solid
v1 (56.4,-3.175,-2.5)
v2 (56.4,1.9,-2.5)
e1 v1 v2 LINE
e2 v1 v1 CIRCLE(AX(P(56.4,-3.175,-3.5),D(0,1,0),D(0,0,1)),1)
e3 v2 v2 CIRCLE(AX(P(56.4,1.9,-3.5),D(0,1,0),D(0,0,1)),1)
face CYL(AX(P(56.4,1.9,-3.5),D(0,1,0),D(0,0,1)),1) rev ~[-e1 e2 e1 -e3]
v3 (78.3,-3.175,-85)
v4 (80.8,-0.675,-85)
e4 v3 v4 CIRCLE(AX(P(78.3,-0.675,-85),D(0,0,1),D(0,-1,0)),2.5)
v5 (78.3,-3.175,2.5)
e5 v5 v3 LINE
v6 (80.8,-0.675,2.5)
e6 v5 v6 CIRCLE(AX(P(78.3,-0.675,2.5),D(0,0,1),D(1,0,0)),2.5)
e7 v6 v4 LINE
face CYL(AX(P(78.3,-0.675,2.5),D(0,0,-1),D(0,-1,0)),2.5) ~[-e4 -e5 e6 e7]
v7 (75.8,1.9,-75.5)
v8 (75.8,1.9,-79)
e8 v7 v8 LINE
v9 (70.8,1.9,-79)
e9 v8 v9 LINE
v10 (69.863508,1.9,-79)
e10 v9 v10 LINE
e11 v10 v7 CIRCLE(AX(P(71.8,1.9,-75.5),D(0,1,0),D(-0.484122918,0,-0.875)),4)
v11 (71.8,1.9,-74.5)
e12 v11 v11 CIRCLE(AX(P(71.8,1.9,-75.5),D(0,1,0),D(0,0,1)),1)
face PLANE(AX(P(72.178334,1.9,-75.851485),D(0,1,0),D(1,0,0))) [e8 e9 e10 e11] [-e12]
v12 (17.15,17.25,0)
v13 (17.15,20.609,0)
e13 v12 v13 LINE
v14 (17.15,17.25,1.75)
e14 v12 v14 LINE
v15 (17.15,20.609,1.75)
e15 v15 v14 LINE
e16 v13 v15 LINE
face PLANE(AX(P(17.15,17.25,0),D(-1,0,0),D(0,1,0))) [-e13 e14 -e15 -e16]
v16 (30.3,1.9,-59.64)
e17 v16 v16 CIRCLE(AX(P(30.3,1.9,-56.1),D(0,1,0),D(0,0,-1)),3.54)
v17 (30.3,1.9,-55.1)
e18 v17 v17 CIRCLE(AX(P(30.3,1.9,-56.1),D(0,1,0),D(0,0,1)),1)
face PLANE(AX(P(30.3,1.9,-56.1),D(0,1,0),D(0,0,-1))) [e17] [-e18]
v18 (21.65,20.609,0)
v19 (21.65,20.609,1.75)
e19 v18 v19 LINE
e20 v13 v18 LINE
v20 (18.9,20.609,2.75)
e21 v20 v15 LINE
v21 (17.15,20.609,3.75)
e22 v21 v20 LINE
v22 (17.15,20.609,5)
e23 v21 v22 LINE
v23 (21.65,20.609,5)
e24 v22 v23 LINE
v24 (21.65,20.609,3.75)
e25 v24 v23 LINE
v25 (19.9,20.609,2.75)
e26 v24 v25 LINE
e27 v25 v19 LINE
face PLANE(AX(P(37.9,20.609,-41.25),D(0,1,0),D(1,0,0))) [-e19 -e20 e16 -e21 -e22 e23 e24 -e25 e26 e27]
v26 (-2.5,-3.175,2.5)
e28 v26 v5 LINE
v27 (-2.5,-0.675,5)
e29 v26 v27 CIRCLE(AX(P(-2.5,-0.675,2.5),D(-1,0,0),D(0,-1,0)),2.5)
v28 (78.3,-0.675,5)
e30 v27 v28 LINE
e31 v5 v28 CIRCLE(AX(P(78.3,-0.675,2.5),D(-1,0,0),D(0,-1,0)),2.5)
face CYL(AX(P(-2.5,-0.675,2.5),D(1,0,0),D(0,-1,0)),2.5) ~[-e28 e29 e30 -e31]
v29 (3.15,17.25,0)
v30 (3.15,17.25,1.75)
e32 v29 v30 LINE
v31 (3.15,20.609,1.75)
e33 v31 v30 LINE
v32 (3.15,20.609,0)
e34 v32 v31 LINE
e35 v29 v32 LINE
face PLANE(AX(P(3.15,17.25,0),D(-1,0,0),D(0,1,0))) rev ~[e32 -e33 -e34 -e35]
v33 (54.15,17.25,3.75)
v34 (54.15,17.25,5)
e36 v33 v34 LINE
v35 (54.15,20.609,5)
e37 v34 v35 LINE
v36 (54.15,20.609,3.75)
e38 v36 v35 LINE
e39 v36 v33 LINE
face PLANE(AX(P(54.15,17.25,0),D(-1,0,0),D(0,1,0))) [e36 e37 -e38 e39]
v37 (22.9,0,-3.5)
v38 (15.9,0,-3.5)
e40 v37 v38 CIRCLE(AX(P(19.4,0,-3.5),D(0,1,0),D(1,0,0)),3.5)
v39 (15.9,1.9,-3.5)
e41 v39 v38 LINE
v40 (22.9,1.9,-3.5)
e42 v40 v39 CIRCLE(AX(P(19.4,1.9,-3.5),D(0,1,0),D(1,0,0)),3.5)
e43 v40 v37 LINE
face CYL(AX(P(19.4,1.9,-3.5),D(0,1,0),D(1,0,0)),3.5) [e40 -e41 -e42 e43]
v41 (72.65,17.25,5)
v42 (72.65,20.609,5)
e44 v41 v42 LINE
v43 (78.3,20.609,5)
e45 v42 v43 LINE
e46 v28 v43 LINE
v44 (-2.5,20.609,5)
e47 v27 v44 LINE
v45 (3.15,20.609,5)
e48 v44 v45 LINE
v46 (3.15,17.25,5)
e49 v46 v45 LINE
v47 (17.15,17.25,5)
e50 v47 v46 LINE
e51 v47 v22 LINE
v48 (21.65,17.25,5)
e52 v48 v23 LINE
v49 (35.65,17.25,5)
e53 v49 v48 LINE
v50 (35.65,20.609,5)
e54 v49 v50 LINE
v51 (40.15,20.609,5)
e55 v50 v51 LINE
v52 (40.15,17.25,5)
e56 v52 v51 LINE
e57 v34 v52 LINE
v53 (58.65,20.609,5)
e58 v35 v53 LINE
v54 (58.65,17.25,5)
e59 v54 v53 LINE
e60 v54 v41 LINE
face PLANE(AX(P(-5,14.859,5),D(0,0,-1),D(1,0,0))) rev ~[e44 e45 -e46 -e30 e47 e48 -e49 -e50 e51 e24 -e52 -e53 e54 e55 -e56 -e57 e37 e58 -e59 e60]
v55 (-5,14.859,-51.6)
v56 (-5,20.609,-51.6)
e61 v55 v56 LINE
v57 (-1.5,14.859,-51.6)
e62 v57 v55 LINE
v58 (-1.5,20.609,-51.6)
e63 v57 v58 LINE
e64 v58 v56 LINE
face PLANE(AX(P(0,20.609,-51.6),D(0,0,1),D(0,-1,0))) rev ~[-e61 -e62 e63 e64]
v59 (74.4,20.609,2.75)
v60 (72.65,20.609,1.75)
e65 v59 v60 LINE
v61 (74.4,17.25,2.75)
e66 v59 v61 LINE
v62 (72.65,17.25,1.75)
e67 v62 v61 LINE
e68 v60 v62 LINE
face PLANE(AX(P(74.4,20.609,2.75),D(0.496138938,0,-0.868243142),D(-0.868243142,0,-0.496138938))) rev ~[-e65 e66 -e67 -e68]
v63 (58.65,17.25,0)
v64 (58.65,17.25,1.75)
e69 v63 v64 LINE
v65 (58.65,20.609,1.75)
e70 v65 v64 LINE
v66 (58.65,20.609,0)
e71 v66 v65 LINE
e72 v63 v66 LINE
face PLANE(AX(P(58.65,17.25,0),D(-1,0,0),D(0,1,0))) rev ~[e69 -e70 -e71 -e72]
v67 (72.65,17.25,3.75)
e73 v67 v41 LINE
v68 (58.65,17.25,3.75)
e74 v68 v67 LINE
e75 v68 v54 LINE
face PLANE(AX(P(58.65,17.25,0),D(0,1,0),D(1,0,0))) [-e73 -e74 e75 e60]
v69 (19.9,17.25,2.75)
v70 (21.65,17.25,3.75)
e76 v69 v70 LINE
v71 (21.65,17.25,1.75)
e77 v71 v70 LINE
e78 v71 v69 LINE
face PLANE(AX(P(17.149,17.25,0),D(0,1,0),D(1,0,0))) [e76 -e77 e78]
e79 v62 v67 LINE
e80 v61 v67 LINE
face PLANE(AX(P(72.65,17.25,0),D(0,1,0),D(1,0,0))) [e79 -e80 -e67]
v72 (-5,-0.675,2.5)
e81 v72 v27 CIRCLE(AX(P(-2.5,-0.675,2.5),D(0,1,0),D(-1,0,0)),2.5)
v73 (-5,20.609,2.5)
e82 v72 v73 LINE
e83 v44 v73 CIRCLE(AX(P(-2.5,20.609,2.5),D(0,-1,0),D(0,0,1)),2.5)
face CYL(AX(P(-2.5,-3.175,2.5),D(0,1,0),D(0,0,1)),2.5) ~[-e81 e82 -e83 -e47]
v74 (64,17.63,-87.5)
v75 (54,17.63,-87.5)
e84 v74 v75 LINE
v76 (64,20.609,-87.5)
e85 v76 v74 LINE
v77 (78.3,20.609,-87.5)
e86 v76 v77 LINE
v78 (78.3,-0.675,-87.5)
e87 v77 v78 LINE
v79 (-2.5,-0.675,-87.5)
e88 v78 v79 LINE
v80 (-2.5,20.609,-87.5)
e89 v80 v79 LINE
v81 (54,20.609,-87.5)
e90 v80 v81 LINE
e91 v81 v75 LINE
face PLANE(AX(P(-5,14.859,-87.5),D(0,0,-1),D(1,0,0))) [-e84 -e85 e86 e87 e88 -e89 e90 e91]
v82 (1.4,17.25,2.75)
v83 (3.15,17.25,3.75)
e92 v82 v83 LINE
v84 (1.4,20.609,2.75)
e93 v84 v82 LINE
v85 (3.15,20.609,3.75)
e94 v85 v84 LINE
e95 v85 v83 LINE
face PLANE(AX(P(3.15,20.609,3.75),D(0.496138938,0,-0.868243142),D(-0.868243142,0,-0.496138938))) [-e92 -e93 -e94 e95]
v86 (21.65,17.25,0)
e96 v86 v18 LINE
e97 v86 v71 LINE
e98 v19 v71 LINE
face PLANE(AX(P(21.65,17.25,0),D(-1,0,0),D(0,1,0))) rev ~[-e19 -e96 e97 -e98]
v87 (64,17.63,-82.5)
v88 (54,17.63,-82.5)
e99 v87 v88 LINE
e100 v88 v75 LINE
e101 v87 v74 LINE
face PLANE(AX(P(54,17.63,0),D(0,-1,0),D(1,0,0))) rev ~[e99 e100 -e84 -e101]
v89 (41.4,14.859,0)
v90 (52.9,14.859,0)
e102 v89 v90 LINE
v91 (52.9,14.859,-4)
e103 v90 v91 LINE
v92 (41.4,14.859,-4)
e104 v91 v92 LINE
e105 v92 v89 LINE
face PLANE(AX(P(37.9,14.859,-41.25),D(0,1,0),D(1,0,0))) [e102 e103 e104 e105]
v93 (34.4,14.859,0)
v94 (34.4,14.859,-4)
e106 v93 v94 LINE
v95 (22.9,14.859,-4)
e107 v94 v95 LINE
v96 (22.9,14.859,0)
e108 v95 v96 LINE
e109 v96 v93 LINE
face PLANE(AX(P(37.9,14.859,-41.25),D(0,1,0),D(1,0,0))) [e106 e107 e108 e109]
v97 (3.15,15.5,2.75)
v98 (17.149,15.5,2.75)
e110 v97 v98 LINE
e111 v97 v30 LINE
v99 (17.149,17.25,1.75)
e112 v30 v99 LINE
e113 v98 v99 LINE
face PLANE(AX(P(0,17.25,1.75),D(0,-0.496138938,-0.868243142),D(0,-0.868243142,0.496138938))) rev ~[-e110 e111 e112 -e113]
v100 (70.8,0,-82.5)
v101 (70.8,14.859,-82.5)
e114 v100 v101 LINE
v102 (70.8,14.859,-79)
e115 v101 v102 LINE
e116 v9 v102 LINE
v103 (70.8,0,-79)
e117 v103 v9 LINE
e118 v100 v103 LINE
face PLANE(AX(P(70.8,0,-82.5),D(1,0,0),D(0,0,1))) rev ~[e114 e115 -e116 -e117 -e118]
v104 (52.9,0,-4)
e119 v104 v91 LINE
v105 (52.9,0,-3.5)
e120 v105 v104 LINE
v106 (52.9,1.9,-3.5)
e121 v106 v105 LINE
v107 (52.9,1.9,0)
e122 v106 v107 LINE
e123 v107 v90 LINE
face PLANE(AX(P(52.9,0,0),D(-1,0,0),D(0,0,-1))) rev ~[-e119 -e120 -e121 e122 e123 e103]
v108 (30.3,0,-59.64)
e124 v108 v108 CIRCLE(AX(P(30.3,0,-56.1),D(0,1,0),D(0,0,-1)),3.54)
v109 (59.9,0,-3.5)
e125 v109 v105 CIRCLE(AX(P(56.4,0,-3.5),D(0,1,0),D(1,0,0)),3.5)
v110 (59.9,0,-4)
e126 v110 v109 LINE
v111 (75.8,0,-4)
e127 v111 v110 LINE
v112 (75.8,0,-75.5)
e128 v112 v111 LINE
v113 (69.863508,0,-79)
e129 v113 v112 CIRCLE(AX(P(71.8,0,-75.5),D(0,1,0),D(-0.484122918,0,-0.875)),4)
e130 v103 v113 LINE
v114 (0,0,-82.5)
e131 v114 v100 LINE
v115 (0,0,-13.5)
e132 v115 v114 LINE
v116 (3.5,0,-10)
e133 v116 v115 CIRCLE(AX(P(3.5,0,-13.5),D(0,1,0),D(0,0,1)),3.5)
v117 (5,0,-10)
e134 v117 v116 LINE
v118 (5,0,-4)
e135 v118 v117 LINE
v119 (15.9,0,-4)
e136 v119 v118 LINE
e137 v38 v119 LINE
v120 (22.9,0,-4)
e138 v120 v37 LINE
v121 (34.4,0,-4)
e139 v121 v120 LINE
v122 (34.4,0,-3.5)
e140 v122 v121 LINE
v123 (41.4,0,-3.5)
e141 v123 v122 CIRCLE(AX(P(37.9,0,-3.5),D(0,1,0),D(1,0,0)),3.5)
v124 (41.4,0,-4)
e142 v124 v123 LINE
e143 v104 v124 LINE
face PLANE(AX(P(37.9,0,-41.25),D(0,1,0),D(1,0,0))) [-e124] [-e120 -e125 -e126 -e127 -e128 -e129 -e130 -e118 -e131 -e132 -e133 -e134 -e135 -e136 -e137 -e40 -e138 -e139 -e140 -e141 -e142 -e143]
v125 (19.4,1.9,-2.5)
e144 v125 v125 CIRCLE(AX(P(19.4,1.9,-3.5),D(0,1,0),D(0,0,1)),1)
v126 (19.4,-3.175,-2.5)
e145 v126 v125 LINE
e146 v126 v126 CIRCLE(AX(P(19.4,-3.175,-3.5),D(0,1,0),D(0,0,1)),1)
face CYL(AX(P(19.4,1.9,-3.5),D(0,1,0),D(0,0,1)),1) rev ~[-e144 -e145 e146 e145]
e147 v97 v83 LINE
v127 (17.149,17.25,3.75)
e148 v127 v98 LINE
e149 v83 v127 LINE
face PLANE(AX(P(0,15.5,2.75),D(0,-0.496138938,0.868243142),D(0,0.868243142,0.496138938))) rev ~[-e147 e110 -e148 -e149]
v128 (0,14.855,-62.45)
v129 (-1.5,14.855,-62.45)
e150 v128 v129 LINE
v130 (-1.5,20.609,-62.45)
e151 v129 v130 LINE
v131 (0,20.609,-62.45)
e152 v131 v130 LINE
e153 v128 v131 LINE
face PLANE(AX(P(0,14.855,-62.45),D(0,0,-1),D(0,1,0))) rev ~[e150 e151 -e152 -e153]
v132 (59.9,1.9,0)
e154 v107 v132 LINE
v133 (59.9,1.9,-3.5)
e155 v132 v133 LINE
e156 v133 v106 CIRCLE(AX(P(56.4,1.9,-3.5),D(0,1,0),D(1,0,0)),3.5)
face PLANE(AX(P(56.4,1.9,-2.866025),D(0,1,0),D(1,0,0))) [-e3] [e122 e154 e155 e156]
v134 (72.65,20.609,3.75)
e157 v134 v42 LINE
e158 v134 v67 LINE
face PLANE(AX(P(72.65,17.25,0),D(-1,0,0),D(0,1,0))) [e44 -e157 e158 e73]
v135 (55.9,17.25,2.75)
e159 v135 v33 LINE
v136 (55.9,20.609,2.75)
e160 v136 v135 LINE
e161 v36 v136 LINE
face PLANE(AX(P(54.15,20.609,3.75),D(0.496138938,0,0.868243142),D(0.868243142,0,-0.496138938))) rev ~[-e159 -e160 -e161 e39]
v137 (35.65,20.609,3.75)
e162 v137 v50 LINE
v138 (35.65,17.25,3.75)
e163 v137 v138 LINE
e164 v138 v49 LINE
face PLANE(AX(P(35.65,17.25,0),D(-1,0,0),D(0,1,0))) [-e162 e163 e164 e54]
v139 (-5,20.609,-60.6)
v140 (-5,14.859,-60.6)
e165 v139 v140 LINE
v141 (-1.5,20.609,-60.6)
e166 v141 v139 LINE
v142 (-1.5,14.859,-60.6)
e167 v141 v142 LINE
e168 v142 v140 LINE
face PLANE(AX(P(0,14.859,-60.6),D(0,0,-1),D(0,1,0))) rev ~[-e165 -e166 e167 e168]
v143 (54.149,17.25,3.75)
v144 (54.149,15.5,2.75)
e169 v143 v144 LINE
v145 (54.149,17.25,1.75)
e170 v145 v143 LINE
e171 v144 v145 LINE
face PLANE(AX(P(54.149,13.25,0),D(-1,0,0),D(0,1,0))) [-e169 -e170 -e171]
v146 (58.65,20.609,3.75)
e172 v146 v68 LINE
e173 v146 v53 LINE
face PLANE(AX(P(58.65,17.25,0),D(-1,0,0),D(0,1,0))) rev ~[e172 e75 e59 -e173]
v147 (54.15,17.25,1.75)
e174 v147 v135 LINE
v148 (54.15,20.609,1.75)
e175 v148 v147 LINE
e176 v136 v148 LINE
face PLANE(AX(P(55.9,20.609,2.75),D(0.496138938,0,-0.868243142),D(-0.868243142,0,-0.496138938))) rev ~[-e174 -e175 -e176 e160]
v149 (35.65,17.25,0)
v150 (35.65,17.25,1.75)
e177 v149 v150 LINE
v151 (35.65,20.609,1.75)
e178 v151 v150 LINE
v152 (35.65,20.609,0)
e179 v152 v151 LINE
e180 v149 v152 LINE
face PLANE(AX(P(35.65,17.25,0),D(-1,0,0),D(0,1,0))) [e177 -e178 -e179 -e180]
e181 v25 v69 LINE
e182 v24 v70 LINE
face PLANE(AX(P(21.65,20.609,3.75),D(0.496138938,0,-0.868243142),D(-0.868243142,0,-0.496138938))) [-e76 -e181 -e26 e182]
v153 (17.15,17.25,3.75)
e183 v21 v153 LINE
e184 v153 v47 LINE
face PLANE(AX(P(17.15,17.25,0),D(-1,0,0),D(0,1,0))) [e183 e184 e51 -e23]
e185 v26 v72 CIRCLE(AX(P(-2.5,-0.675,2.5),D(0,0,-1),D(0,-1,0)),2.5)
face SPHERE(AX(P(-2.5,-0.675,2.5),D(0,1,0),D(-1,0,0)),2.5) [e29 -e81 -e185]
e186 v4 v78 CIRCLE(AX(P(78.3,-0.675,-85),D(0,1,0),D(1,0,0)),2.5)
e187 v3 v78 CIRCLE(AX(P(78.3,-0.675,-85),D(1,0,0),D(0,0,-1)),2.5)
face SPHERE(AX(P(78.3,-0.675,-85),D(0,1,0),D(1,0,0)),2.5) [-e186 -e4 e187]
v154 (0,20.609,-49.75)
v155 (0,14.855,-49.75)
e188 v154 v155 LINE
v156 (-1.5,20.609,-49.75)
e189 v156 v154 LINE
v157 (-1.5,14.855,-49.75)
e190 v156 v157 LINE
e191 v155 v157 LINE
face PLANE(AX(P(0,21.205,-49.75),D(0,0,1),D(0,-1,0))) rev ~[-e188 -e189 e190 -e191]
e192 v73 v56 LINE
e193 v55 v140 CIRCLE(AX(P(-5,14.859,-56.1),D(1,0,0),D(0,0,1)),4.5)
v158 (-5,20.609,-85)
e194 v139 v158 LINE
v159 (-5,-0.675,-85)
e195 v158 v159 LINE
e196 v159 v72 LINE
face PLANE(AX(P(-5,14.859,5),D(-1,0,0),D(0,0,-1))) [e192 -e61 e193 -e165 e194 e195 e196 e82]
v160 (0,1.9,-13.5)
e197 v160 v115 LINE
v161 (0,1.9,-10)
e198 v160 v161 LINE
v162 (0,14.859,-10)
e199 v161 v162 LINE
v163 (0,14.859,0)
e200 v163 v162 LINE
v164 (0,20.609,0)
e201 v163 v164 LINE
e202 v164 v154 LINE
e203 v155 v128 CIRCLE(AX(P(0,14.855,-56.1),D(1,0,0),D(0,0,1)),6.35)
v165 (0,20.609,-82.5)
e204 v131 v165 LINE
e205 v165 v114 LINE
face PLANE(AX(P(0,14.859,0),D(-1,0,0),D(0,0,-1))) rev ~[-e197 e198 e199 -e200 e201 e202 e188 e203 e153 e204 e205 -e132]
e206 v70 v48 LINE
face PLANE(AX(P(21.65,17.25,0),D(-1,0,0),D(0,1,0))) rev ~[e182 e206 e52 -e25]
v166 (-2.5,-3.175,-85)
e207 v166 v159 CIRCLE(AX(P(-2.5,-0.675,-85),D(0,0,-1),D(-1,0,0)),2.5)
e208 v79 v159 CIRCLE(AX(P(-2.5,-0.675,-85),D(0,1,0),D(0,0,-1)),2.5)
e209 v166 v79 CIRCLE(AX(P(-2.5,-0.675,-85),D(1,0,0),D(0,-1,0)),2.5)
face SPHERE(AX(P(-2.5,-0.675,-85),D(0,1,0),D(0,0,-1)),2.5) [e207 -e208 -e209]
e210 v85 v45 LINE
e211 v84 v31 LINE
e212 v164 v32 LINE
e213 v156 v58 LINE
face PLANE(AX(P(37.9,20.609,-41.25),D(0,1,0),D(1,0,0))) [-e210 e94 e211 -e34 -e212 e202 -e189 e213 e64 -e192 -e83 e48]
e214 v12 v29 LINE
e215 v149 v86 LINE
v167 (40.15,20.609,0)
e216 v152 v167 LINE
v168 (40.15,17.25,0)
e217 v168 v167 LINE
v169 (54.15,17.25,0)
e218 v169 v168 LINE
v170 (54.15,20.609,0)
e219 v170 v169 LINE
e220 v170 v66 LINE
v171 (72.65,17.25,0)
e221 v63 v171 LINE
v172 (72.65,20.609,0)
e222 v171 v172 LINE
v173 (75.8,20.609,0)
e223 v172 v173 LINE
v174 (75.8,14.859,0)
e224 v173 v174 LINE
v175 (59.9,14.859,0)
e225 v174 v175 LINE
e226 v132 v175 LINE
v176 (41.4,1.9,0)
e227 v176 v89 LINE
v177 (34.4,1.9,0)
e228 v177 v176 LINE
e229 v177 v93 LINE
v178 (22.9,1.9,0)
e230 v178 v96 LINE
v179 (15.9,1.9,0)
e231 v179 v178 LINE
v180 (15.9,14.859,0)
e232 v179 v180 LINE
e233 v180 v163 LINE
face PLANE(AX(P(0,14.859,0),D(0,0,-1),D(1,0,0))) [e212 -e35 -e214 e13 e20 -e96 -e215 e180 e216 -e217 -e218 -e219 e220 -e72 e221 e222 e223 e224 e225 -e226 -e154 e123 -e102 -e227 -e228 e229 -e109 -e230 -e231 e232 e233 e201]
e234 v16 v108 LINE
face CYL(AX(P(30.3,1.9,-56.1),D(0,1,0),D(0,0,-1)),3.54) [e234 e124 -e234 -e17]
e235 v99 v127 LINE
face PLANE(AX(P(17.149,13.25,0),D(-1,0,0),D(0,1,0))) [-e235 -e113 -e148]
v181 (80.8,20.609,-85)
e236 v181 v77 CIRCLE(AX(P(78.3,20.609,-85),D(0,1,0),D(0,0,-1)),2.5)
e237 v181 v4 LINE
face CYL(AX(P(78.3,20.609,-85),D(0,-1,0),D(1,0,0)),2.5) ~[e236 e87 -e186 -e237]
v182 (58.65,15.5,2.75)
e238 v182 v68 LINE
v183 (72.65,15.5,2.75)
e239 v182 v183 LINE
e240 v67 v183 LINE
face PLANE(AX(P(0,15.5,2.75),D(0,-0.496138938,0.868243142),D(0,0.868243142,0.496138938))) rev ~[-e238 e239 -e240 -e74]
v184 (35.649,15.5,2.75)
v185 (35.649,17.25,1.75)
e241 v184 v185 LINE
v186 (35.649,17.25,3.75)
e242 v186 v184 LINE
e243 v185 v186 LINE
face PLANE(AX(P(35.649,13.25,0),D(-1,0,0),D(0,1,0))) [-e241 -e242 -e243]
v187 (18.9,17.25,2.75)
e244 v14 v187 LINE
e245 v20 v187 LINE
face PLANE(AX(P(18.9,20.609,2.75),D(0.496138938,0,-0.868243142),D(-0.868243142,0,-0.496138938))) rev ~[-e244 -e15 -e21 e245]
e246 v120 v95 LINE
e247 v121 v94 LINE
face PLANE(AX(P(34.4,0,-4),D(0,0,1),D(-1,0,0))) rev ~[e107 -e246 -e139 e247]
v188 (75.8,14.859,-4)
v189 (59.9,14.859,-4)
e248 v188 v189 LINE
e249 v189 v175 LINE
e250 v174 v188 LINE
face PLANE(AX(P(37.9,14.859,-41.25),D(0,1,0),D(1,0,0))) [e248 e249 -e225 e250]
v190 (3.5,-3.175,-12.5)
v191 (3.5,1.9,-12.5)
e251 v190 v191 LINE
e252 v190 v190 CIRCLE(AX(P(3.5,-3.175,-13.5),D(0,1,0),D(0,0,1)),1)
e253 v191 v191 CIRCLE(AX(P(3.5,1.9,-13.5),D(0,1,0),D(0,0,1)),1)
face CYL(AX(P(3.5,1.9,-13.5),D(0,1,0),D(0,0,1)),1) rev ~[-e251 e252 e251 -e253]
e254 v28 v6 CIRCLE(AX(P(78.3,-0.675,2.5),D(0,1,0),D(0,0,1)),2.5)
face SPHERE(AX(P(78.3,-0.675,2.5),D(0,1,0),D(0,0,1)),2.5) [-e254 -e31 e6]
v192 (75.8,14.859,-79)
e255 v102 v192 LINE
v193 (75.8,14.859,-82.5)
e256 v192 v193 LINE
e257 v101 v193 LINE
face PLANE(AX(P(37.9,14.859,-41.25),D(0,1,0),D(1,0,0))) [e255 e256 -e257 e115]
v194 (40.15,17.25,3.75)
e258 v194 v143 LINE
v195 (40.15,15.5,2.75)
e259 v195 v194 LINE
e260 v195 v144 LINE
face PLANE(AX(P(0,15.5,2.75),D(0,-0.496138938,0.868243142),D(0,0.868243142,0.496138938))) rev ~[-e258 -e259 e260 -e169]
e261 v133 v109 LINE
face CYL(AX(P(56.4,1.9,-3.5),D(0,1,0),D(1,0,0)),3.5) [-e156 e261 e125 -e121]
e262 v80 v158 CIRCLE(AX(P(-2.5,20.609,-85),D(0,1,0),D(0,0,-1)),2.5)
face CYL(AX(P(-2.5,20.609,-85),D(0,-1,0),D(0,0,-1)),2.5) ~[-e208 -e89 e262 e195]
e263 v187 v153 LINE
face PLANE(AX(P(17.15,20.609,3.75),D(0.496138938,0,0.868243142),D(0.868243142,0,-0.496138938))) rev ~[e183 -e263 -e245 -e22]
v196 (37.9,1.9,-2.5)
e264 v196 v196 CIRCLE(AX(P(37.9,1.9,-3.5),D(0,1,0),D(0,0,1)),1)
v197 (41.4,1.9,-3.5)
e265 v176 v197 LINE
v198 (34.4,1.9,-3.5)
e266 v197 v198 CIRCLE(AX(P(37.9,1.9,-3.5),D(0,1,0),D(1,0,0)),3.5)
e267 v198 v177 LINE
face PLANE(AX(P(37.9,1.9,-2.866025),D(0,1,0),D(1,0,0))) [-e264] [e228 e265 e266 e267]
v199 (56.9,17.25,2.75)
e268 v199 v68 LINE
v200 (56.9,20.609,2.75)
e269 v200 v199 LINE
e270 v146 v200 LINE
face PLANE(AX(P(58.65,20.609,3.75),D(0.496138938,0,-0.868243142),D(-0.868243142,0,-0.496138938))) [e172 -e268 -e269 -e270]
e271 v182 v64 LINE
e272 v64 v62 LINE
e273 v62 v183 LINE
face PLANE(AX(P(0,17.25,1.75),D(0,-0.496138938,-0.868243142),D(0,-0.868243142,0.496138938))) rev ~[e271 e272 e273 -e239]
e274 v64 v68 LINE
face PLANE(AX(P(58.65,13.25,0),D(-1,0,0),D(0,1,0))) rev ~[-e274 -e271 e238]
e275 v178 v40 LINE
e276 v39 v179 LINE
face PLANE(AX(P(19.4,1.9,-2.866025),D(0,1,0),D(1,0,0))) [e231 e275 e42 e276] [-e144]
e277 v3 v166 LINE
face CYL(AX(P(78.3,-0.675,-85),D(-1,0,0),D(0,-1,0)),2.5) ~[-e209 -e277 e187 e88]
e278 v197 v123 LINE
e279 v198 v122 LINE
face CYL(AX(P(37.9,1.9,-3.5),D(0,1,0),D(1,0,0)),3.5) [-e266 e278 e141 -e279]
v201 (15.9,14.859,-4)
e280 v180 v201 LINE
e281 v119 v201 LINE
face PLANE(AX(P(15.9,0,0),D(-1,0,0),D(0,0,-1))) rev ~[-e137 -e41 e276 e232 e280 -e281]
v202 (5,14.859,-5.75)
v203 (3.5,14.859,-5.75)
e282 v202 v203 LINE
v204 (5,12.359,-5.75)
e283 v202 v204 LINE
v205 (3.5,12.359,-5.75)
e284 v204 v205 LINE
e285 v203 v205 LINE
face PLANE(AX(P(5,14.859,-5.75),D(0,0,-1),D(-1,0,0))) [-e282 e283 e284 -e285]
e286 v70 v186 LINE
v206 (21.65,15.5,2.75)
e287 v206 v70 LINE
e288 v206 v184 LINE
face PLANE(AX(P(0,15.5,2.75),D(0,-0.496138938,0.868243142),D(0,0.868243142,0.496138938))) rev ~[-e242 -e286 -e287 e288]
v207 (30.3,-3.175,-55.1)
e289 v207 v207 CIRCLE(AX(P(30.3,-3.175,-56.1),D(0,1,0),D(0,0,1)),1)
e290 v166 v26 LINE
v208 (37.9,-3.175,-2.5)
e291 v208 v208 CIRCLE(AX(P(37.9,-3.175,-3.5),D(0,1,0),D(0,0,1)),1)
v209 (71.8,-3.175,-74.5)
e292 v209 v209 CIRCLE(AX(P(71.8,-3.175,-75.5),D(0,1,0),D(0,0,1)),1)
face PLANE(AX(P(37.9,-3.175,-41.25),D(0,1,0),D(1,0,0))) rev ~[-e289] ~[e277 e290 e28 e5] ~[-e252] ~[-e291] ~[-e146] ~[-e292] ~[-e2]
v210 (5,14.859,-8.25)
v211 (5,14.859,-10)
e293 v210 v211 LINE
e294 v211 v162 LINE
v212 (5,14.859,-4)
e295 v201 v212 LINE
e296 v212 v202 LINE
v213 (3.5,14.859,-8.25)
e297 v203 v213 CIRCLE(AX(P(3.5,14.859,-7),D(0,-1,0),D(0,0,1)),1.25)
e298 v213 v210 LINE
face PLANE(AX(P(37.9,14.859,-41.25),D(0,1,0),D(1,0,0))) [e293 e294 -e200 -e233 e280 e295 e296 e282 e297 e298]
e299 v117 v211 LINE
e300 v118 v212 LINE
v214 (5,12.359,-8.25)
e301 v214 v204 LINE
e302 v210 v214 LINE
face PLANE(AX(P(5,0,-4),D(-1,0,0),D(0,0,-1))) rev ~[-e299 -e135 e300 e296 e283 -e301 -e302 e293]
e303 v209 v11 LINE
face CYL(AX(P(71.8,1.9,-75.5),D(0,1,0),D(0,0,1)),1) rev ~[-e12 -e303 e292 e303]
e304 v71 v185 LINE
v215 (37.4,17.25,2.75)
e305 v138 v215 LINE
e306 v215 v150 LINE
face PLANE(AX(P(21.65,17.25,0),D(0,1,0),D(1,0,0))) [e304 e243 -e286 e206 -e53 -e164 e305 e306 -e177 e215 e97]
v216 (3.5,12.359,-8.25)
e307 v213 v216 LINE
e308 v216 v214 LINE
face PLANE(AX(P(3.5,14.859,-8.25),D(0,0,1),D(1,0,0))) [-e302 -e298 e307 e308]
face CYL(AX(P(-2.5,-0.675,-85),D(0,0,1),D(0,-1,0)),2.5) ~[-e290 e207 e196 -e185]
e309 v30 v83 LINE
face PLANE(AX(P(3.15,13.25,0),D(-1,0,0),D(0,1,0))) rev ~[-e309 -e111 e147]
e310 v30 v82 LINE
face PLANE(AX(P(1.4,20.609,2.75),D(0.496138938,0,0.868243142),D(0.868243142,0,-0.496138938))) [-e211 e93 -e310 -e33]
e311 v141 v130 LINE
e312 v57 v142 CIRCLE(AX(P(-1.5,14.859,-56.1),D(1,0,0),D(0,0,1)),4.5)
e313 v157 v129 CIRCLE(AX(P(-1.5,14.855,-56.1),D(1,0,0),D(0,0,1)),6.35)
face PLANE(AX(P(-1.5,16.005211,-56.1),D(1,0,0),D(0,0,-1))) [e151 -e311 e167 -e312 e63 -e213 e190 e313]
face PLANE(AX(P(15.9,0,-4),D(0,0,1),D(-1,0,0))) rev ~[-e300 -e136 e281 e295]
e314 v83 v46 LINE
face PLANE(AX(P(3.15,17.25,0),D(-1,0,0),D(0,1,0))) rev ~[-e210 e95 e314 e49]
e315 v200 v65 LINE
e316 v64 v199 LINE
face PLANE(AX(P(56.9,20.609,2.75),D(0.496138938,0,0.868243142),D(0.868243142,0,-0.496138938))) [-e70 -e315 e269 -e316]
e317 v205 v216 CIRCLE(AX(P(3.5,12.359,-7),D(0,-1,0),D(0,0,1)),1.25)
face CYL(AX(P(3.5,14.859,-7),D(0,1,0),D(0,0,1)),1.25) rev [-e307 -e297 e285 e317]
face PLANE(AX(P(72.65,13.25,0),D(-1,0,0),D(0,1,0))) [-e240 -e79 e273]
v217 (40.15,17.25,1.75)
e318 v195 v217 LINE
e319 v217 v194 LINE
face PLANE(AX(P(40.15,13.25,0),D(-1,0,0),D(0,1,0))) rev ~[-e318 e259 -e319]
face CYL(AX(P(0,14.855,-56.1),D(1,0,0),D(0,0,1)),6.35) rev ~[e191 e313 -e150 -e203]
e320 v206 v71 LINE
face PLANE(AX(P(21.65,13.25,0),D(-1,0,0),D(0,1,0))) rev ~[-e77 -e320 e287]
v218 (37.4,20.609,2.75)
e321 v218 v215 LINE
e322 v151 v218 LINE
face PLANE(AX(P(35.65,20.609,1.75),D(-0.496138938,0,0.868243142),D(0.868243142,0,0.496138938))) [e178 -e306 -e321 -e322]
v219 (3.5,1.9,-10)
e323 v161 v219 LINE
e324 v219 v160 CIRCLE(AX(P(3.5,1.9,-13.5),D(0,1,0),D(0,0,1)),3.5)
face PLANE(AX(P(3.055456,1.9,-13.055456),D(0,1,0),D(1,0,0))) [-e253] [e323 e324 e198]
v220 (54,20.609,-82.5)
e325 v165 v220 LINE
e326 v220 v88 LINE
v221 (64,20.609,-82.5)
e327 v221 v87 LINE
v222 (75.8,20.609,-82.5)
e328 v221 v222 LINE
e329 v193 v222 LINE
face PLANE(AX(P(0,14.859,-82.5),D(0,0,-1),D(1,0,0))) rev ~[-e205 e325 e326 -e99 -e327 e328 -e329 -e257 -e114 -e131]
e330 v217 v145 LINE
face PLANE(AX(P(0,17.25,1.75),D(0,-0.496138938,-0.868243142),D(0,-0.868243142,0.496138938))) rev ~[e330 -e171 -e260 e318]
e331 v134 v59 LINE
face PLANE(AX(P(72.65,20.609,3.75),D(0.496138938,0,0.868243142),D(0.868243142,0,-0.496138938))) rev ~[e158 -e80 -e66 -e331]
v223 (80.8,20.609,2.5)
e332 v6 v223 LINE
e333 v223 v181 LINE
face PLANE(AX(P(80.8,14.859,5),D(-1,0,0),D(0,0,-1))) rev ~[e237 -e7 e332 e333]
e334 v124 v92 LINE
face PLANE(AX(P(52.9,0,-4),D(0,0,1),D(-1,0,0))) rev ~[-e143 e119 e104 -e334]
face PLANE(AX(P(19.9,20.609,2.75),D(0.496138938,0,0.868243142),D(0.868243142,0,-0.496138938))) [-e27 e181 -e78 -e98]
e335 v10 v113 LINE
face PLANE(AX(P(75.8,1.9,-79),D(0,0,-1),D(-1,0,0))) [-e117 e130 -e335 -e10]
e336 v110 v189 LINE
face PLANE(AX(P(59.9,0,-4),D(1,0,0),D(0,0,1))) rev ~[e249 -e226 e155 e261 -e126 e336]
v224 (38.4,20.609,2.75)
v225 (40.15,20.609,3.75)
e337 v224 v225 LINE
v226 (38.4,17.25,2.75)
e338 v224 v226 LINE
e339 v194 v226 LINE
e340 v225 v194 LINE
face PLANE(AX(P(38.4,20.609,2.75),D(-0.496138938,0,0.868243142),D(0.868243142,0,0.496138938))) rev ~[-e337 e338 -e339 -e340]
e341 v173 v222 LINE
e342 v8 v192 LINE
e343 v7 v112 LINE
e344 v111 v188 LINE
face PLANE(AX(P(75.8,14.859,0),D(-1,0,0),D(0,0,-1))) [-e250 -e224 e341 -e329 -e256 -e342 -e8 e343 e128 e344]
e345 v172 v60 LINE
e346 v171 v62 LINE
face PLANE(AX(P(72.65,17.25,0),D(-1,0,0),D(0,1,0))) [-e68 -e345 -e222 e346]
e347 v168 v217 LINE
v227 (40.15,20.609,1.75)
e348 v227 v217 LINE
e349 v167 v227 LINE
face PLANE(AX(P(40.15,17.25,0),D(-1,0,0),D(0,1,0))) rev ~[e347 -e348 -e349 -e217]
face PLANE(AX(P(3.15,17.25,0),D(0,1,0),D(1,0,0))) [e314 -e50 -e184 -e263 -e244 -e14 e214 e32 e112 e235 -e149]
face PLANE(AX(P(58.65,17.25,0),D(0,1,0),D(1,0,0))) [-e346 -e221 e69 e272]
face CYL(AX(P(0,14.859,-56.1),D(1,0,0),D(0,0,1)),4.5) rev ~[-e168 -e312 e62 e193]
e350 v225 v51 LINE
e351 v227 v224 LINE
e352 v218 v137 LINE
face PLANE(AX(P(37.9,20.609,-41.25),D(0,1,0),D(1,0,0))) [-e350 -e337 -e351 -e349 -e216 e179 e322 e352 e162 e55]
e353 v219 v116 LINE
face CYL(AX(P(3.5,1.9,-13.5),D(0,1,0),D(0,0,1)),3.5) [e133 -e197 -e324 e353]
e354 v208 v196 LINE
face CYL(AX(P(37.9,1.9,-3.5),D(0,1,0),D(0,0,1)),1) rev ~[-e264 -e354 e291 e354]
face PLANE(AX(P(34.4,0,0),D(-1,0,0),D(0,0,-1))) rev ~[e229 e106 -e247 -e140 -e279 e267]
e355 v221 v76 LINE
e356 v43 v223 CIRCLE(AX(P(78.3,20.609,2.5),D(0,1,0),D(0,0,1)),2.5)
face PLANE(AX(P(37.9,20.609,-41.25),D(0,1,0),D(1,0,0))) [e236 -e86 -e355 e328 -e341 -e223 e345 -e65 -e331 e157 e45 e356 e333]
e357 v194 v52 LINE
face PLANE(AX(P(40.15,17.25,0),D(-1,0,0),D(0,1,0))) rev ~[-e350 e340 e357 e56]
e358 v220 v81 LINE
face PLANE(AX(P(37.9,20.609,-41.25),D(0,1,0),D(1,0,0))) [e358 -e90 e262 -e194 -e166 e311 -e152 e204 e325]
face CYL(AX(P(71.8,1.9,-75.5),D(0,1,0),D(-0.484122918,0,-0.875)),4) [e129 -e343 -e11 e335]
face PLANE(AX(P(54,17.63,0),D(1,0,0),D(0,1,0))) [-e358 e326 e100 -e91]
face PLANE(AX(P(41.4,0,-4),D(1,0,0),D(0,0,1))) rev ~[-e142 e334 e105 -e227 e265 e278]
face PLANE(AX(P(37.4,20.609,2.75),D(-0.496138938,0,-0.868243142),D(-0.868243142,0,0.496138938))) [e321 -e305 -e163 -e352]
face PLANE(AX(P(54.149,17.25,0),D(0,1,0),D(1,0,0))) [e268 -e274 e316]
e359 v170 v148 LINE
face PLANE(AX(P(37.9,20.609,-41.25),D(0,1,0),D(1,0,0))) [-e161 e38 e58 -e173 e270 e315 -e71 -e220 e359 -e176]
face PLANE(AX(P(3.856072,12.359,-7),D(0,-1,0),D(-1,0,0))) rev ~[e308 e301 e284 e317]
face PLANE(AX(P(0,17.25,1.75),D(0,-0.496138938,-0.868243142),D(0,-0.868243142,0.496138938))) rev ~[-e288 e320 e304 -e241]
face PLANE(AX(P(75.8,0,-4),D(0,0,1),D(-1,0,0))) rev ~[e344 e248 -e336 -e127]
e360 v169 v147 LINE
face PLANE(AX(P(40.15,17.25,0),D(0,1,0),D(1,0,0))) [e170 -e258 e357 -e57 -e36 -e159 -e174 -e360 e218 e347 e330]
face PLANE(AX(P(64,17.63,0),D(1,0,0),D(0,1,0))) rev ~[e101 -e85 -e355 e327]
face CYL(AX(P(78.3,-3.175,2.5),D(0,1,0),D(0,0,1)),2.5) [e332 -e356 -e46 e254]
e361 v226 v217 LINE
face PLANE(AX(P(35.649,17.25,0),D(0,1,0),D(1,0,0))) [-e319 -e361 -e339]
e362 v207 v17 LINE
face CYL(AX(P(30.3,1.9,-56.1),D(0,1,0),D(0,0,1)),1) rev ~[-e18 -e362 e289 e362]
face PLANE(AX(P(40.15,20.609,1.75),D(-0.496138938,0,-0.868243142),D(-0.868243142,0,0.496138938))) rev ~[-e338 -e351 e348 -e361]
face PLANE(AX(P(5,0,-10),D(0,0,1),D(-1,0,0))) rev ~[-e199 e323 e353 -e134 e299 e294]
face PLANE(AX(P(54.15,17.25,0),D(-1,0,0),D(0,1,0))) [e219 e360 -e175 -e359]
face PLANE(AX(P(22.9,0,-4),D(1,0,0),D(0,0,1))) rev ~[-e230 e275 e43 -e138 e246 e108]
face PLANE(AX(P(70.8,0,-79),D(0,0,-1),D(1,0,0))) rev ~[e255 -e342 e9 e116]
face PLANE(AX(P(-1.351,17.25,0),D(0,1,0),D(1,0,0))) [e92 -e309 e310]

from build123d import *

# Parameters (mm, degrees)
SKETCH1_W           = 85.8
SKETCH1_H           = 92.5
BOSS_EXTRUDE1_DEPTH = 14.859
SKETCH2_W           = 85.8
SKETCH2_H           = 92.5
SKETCH2_R           = 1
BOSS_EXTRUDE2_DEPTH = 3.175
SKETCH4_W           = 85.8
SKETCH4_H           = 92.5
SKETCH4_W_2         = 75.8
SKETCH4_H_2         = 82.5
BOSS_EXTRUDE3_DEPTH = 5.75
CUT_EXTRUDE1_DEPTH  = 121.870264668
SKETCH5_W           = 14
SKETCH5_H           = 8
CUT_EXTRUDE2_DEPTH  = 121.870264668
SKETCH6_W           = 10
SKETCH6_H           = 6
CUT_EXTRUDE3_DEPTH  = 121.870264668
BOSS_EXTRUDE4_START = 1.9
SKETCH7_R           = 3.54
SKETCH7_R_2         = 1
BOSS_EXTRUDE4_DEPTH = 1.9
FILLET1_R           = 2.5
FILLET2_R           = 2.5
FILLET3_R           = 2.5
FILLET4_R           = 2.5
FILLET5_R           = 2.5
CUT_EXTRUDE4_DEPTH  = 1.5
CUT_EXTRUDE5_DEPTH  = 4
CUT_EXTRUDE7_DEPTH  = 73.9
SKETCH12_W          = 4.501
SKETCH12_H          = 4
BOSS_EXTRUDE8_DEPTH = 5
CUT_EXTRUDE8_DEPTH  = 2.5


with BuildPart() as part:
    # Sketch1 → Boss-Extrude1 (new body)
    with BuildSketch(Plane(origin=(0, 0, 0), x_dir=(1, 0, 0), z_dir=(0, 1, 0))):
        with Locations((37.9, 41.25)):
            Rectangle(SKETCH1_W, SKETCH1_H)
        Polygon((5, 4), (5, 10), (0, 10), (0, 82.5), (70.8, 82.5), (70.8, 79), (75.8, 79), (75.8, 4), (59.9, 4), (59.9, 0), (52.9, 0), (52.9, 4), (41.4, 4), (41.4, 0), (34.4, 0), (34.4, 4), (22.9, 4), (22.9, 0), (15.9, 0), (15.9, 4), align=None, mode=Mode.SUBTRACT)
    extrude(amount=BOSS_EXTRUDE1_DEPTH)

    # Sketch2 → Boss-Extrude2 (add)
    with BuildSketch(Plane(origin=(0, 0, 0), x_dir=(1, 0, 0), z_dir=(0, 1, 0))):
        with Locations((37.9, 41.25)):
            Rectangle(SKETCH2_W, SKETCH2_H)
        with Locations(Location((3.5, 13.5, 0), (0, 0, 270))):
            Circle(SKETCH2_R, mode=Mode.SUBTRACT)
        with Locations(Location((19.4, 3.5, 0), (0, 0, 270))):
            Circle(SKETCH2_R, mode=Mode.SUBTRACT)
        with Locations(Location((37.9, 3.5, 0), (0, 0, 270))):
            Circle(SKETCH2_R, mode=Mode.SUBTRACT)
        with Locations(Location((56.4, 3.5, 0), (0, 0, 270))):
            Circle(SKETCH2_R, mode=Mode.SUBTRACT)
        with Locations(Location((30.3, 56.1, 0), (0, 0, 270))):
            Circle(SKETCH2_R, mode=Mode.SUBTRACT)
        with Locations(Location((71.8, 75.5, 0), (0, 0, 270))):
            Circle(SKETCH2_R, mode=Mode.SUBTRACT)
    extrude(amount=-BOSS_EXTRUDE2_DEPTH)

    # Sketch4 → Boss-Extrude3 (add)
    with BuildSketch(Plane(origin=(0, 14.859, 0), x_dir=(1, 0, 0), z_dir=(0, 1, 0))):
        with Locations((37.9, 41.25)):
            Rectangle(SKETCH4_W, SKETCH4_H)
        with Locations((37.9, 41.25)):
            Rectangle(SKETCH4_W_2, SKETCH4_H_2, mode=Mode.SUBTRACT)
    extrude(amount=BOSS_EXTRUDE3_DEPTH)

    # Sketch3 → Cut-Extrude1 (cut, through all)
    with BuildSketch(Plane(origin=(0, 0, 0), x_dir=(0, 0, -1), z_dir=(1, 0, 0))):
        with BuildLine():
            Line((60.6, 14.859), (60.6, 20.609))
            Line((60.6, 20.609), (51.6, 20.609))
            Line((51.6, 20.609), (51.6, 14.859))
            ThreePointArc((51.6, 14.859), (56.1, 10.359), (60.6, 14.859))
        make_face()
    extrude(amount=-CUT_EXTRUDE1_DEPTH, mode=Mode.SUBTRACT)

    # Sketch5 → Cut-Extrude2 (cut, through all)
    with BuildSketch(Plane.XY):
        with Locations((10.15, 21.25)):
            Rectangle(SKETCH5_W, SKETCH5_H)
        with Locations((28.65, 21.25)):
            Rectangle(SKETCH5_W, SKETCH5_H)
        with Locations((47.15, 21.25)):
            Rectangle(SKETCH5_W, SKETCH5_H)
        with Locations((65.65, 21.25)):
            Rectangle(SKETCH5_W, SKETCH5_H)
    extrude(amount=CUT_EXTRUDE2_DEPTH, mode=Mode.SUBTRACT)

    # Sketch6 → Cut-Extrude3 (cut, through all)
    with BuildSketch(Plane.XY):
        with Locations((59, 20.63)):
            Rectangle(SKETCH6_W, SKETCH6_H)
    extrude(amount=-CUT_EXTRUDE3_DEPTH, mode=Mode.SUBTRACT)

    # Sketch7 → Boss-Extrude4 (add)
    # profile 1 of 6: a face of its own
    with BuildSketch(Plane(origin=(0, 0, 0), x_dir=(1, 0, 0), z_dir=(0, 1, 0)).offset(BOSS_EXTRUDE4_START)):
        with Locations(Location((30.3, 56.1, 0), (0, 0, 90))):
            Circle(SKETCH7_R)
        with Locations(Location((30.3, 56.1, 0), (0, 0, 270))):
            Circle(SKETCH7_R_2, mode=Mode.SUBTRACT)
    # profile 2 of 6: a face of its own
    with BuildSketch(Plane(origin=(0, 0, 0), x_dir=(1, 0, 0), z_dir=(0, 1, 0)).offset(BOSS_EXTRUDE4_START)):
        with BuildLine():
            Line((0, 13.5), (0, 10))
            Line((0, 10), (3.5, 10))
            ThreePointArc((3.5, 10), (5.974873734, 15.974873734), (0, 13.5))
        make_face()
        with Locations(Location((3.5, 13.5, 0), (0, 0, 270))):
            Circle(SKETCH7_R_2, mode=Mode.SUBTRACT)
    # profile 3 of 6: a face of its own
    with BuildSketch(Plane(origin=(0, 0, 0), x_dir=(1, 0, 0), z_dir=(0, 1, 0)).offset(BOSS_EXTRUDE4_START)):
        with BuildLine():
            Line((15.9, 3.5), (15.9, 0))
            Line((15.9, 0), (22.9, 0))
            Line((22.9, 0), (22.9, 3.5))
            ThreePointArc((22.9, 3.5), (19.4, 7), (15.9, 3.5))
        make_face()
        with Locations(Location((19.4, 3.5, 0), (0, 0, 270))):
            Circle(SKETCH7_R_2, mode=Mode.SUBTRACT)
    # profile 4 of 6: a face of its own
    with BuildSketch(Plane(origin=(0, 0, 0), x_dir=(1, 0, 0), z_dir=(0, 1, 0)).offset(BOSS_EXTRUDE4_START)):
        with BuildLine():
            Line((34.4, 3.5), (34.4, 0))
            Line((34.4, 0), (41.4, 0))
            Line((41.4, 0), (41.4, 3.5))
            ThreePointArc((41.4, 3.5), (37.9, 7), (34.4, 3.5))
        make_face()
        with Locations(Location((37.9, 3.5, 0), (0, 0, 270))):
            Circle(SKETCH7_R_2, mode=Mode.SUBTRACT)
    # profile 5 of 6: a face of its own
    with BuildSketch(Plane(origin=(0, 0, 0), x_dir=(1, 0, 0), z_dir=(0, 1, 0)).offset(BOSS_EXTRUDE4_START)):
        with BuildLine():
            Line((52.9, 3.5), (52.9, 0))
            Line((52.9, 0), (59.9, 0))
            Line((59.9, 0), (59.9, 3.5))
            ThreePointArc((59.9, 3.5), (56.4, 7), (52.9, 3.5))
        make_face()
        with Locations(Location((56.4, 3.5, 0), (0, 0, 270))):
            Circle(SKETCH7_R_2, mode=Mode.SUBTRACT)
    # profile 6 of 6: a face of its own
    with BuildSketch(Plane(origin=(0, 0, 0), x_dir=(1, 0, 0), z_dir=(0, 1, 0)).offset(BOSS_EXTRUDE4_START)):
        with BuildLine():
            Line((75.8, 79), (69.863508327, 79))
            ThreePointArc((69.863508327, 79), (69.768493994, 72.054280431), (75.8, 75.5))
            Line((75.8, 75.5), (75.8, 79))
        make_face()
        with Locations(Location((71.8, 75.5, 0), (0, 0, 270))):
            Circle(SKETCH7_R_2, mode=Mode.SUBTRACT)
    extrude(amount=-BOSS_EXTRUDE4_DEPTH)

    # Fillet1
    fillet1_edges = [part.edges().sort_by_distance(p)[0] for p in [
        (-5, 8.717, 5),
    ]]
    fillet(fillet1_edges, radius=FILLET1_R)

    # Fillet2
    fillet2_edges = [part.edges().sort_by_distance(p)[0] for p in [
        (80.8, 8.717, 5),
    ]]
    fillet(fillet2_edges, radius=FILLET2_R)

    # Fillet3
    fillet3_edges = [part.edges().sort_by_distance(p)[0] for p in [
        (80.8, 8.717, -87.5),
    ]]
    fillet(fillet3_edges, radius=FILLET3_R)

    # Fillet4
    fillet4_edges = [part.edges().sort_by_distance(p)[0] for p in [
        (-5, 8.717, -87.5),
    ]]
    fillet(fillet4_edges, radius=FILLET4_R)

    # Fillet5
    fillet5_edges = [part.edges().sort_by_distance(p)[0] for p in [
        (37.9, -3.175, 5),
        (-4.267766953, -3.175, 4.267766953),
        (80.8, -3.175, -41.25),
        (80.067766953, -3.175, 4.267766953),
        (37.9, -3.175, -87.5),
        (80.067766953, -3.175, -86.767766953),
        (-5, -3.175, -41.25),
        (-4.267766953, -3.175, -86.767766953),
    ]]
    fillet(fillet5_edges, radius=FILLET5_R)

    # Sketch8 → Cut-Extrude4 (cut)
    with BuildSketch(Plane(origin=(0, 0, 0), x_dir=(0, 0, -1), z_dir=(1, 0, 0))):
        with BuildLine():
            Line((62.45, 14.855), (62.45, 21.205))
            Line((62.45, 21.205), (49.75, 21.205))
            Line((49.75, 21.205), (49.75, 14.855))
            ThreePointArc((49.75, 14.855), (56.1, 8.505), (62.45, 14.855))
        make_face()
    extrude(amount=-CUT_EXTRUDE4_DEPTH, mode=Mode.SUBTRACT)

    # Sketch9 → Cut-Extrude5 (cut)
    with BuildSketch(Plane(origin=(0, 20.609, 0), x_dir=(1, 0, 0), z_dir=(0, 1, 0))):
        Polygon((3.15, -1.75), (3.15, -3.75), (1.4, -2.75), align=None)
        Polygon((17.15, -1.75), (17.15, -3.75), (18.9, -2.75), align=None)
        Polygon((21.65, -1.75), (21.65, -3.75), (19.9, -2.75), align=None)
        Polygon((35.65, -1.75), (37.4, -2.75), (35.65, -3.75), align=None)
        Polygon((40.15, -1.75), (38.4, -2.75), (40.15, -3.75), align=None)
        Polygon((54.15, -1.75), (54.15, -3.75), (55.9, -2.75), align=None)
        Polygon((58.65, -1.75), (58.65, -3.75), (56.9, -2.75), align=None)
        Polygon((72.65, -1.75), (72.65, -3.75), (74.4, -2.75), align=None)
    extrude(amount=-CUT_EXTRUDE5_DEPTH, mode=Mode.SUBTRACT)

    # Sketch10 → Cut-Extrude7 (cut)
    with BuildSketch(Plane(origin=(0, 0, 0), x_dir=(0, 0, -1), z_dir=(1, 0, 0))):
        Polygon((-3.75, 17.25), (-1.75, 17.25), (-2.75, 15.5), align=None)
    extrude(amount=CUT_EXTRUDE7_DEPTH, mode=Mode.SUBTRACT)

    # Sketch12 → Boss-Extrude8 (add)
    with BuildSketch(Plane.XY):
        with Locations((0.8995, 15.25)):
            Rectangle(SKETCH12_W, SKETCH12_H)
        with Locations((19.3995, 15.25)):
            Rectangle(SKETCH12_W, SKETCH12_H)
        with Locations((37.8995, 15.25)):
            Rectangle(SKETCH12_W, SKETCH12_H)
        with Locations((56.3995, 15.25)):
            Rectangle(SKETCH12_W, SKETCH12_H)
        with Locations((74.9005, 15.25)):
            Rectangle(SKETCH12_W, SKETCH12_H)
    extrude(amount=BOSS_EXTRUDE8_DEPTH)

    # Sketch13 → Cut-Extrude8 (cut)
    with BuildSketch(Plane(origin=(0, 14.859, 0), x_dir=(1, 0, 0), z_dir=(0, 1, 0))):
        with BuildLine():
            Line((3.5, 8.25), (5, 8.25))
            Line((5, 8.25), (5, 5.75))
            Line((5, 5.75), (3.5, 5.75))
            ThreePointArc((3.5, 5.75), (2.25, 7), (3.5, 8.25))
        make_face()
    extrude(amount=-CUT_EXTRUDE8_DEPTH, mode=Mode.SUBTRACT)


solid = part.part
